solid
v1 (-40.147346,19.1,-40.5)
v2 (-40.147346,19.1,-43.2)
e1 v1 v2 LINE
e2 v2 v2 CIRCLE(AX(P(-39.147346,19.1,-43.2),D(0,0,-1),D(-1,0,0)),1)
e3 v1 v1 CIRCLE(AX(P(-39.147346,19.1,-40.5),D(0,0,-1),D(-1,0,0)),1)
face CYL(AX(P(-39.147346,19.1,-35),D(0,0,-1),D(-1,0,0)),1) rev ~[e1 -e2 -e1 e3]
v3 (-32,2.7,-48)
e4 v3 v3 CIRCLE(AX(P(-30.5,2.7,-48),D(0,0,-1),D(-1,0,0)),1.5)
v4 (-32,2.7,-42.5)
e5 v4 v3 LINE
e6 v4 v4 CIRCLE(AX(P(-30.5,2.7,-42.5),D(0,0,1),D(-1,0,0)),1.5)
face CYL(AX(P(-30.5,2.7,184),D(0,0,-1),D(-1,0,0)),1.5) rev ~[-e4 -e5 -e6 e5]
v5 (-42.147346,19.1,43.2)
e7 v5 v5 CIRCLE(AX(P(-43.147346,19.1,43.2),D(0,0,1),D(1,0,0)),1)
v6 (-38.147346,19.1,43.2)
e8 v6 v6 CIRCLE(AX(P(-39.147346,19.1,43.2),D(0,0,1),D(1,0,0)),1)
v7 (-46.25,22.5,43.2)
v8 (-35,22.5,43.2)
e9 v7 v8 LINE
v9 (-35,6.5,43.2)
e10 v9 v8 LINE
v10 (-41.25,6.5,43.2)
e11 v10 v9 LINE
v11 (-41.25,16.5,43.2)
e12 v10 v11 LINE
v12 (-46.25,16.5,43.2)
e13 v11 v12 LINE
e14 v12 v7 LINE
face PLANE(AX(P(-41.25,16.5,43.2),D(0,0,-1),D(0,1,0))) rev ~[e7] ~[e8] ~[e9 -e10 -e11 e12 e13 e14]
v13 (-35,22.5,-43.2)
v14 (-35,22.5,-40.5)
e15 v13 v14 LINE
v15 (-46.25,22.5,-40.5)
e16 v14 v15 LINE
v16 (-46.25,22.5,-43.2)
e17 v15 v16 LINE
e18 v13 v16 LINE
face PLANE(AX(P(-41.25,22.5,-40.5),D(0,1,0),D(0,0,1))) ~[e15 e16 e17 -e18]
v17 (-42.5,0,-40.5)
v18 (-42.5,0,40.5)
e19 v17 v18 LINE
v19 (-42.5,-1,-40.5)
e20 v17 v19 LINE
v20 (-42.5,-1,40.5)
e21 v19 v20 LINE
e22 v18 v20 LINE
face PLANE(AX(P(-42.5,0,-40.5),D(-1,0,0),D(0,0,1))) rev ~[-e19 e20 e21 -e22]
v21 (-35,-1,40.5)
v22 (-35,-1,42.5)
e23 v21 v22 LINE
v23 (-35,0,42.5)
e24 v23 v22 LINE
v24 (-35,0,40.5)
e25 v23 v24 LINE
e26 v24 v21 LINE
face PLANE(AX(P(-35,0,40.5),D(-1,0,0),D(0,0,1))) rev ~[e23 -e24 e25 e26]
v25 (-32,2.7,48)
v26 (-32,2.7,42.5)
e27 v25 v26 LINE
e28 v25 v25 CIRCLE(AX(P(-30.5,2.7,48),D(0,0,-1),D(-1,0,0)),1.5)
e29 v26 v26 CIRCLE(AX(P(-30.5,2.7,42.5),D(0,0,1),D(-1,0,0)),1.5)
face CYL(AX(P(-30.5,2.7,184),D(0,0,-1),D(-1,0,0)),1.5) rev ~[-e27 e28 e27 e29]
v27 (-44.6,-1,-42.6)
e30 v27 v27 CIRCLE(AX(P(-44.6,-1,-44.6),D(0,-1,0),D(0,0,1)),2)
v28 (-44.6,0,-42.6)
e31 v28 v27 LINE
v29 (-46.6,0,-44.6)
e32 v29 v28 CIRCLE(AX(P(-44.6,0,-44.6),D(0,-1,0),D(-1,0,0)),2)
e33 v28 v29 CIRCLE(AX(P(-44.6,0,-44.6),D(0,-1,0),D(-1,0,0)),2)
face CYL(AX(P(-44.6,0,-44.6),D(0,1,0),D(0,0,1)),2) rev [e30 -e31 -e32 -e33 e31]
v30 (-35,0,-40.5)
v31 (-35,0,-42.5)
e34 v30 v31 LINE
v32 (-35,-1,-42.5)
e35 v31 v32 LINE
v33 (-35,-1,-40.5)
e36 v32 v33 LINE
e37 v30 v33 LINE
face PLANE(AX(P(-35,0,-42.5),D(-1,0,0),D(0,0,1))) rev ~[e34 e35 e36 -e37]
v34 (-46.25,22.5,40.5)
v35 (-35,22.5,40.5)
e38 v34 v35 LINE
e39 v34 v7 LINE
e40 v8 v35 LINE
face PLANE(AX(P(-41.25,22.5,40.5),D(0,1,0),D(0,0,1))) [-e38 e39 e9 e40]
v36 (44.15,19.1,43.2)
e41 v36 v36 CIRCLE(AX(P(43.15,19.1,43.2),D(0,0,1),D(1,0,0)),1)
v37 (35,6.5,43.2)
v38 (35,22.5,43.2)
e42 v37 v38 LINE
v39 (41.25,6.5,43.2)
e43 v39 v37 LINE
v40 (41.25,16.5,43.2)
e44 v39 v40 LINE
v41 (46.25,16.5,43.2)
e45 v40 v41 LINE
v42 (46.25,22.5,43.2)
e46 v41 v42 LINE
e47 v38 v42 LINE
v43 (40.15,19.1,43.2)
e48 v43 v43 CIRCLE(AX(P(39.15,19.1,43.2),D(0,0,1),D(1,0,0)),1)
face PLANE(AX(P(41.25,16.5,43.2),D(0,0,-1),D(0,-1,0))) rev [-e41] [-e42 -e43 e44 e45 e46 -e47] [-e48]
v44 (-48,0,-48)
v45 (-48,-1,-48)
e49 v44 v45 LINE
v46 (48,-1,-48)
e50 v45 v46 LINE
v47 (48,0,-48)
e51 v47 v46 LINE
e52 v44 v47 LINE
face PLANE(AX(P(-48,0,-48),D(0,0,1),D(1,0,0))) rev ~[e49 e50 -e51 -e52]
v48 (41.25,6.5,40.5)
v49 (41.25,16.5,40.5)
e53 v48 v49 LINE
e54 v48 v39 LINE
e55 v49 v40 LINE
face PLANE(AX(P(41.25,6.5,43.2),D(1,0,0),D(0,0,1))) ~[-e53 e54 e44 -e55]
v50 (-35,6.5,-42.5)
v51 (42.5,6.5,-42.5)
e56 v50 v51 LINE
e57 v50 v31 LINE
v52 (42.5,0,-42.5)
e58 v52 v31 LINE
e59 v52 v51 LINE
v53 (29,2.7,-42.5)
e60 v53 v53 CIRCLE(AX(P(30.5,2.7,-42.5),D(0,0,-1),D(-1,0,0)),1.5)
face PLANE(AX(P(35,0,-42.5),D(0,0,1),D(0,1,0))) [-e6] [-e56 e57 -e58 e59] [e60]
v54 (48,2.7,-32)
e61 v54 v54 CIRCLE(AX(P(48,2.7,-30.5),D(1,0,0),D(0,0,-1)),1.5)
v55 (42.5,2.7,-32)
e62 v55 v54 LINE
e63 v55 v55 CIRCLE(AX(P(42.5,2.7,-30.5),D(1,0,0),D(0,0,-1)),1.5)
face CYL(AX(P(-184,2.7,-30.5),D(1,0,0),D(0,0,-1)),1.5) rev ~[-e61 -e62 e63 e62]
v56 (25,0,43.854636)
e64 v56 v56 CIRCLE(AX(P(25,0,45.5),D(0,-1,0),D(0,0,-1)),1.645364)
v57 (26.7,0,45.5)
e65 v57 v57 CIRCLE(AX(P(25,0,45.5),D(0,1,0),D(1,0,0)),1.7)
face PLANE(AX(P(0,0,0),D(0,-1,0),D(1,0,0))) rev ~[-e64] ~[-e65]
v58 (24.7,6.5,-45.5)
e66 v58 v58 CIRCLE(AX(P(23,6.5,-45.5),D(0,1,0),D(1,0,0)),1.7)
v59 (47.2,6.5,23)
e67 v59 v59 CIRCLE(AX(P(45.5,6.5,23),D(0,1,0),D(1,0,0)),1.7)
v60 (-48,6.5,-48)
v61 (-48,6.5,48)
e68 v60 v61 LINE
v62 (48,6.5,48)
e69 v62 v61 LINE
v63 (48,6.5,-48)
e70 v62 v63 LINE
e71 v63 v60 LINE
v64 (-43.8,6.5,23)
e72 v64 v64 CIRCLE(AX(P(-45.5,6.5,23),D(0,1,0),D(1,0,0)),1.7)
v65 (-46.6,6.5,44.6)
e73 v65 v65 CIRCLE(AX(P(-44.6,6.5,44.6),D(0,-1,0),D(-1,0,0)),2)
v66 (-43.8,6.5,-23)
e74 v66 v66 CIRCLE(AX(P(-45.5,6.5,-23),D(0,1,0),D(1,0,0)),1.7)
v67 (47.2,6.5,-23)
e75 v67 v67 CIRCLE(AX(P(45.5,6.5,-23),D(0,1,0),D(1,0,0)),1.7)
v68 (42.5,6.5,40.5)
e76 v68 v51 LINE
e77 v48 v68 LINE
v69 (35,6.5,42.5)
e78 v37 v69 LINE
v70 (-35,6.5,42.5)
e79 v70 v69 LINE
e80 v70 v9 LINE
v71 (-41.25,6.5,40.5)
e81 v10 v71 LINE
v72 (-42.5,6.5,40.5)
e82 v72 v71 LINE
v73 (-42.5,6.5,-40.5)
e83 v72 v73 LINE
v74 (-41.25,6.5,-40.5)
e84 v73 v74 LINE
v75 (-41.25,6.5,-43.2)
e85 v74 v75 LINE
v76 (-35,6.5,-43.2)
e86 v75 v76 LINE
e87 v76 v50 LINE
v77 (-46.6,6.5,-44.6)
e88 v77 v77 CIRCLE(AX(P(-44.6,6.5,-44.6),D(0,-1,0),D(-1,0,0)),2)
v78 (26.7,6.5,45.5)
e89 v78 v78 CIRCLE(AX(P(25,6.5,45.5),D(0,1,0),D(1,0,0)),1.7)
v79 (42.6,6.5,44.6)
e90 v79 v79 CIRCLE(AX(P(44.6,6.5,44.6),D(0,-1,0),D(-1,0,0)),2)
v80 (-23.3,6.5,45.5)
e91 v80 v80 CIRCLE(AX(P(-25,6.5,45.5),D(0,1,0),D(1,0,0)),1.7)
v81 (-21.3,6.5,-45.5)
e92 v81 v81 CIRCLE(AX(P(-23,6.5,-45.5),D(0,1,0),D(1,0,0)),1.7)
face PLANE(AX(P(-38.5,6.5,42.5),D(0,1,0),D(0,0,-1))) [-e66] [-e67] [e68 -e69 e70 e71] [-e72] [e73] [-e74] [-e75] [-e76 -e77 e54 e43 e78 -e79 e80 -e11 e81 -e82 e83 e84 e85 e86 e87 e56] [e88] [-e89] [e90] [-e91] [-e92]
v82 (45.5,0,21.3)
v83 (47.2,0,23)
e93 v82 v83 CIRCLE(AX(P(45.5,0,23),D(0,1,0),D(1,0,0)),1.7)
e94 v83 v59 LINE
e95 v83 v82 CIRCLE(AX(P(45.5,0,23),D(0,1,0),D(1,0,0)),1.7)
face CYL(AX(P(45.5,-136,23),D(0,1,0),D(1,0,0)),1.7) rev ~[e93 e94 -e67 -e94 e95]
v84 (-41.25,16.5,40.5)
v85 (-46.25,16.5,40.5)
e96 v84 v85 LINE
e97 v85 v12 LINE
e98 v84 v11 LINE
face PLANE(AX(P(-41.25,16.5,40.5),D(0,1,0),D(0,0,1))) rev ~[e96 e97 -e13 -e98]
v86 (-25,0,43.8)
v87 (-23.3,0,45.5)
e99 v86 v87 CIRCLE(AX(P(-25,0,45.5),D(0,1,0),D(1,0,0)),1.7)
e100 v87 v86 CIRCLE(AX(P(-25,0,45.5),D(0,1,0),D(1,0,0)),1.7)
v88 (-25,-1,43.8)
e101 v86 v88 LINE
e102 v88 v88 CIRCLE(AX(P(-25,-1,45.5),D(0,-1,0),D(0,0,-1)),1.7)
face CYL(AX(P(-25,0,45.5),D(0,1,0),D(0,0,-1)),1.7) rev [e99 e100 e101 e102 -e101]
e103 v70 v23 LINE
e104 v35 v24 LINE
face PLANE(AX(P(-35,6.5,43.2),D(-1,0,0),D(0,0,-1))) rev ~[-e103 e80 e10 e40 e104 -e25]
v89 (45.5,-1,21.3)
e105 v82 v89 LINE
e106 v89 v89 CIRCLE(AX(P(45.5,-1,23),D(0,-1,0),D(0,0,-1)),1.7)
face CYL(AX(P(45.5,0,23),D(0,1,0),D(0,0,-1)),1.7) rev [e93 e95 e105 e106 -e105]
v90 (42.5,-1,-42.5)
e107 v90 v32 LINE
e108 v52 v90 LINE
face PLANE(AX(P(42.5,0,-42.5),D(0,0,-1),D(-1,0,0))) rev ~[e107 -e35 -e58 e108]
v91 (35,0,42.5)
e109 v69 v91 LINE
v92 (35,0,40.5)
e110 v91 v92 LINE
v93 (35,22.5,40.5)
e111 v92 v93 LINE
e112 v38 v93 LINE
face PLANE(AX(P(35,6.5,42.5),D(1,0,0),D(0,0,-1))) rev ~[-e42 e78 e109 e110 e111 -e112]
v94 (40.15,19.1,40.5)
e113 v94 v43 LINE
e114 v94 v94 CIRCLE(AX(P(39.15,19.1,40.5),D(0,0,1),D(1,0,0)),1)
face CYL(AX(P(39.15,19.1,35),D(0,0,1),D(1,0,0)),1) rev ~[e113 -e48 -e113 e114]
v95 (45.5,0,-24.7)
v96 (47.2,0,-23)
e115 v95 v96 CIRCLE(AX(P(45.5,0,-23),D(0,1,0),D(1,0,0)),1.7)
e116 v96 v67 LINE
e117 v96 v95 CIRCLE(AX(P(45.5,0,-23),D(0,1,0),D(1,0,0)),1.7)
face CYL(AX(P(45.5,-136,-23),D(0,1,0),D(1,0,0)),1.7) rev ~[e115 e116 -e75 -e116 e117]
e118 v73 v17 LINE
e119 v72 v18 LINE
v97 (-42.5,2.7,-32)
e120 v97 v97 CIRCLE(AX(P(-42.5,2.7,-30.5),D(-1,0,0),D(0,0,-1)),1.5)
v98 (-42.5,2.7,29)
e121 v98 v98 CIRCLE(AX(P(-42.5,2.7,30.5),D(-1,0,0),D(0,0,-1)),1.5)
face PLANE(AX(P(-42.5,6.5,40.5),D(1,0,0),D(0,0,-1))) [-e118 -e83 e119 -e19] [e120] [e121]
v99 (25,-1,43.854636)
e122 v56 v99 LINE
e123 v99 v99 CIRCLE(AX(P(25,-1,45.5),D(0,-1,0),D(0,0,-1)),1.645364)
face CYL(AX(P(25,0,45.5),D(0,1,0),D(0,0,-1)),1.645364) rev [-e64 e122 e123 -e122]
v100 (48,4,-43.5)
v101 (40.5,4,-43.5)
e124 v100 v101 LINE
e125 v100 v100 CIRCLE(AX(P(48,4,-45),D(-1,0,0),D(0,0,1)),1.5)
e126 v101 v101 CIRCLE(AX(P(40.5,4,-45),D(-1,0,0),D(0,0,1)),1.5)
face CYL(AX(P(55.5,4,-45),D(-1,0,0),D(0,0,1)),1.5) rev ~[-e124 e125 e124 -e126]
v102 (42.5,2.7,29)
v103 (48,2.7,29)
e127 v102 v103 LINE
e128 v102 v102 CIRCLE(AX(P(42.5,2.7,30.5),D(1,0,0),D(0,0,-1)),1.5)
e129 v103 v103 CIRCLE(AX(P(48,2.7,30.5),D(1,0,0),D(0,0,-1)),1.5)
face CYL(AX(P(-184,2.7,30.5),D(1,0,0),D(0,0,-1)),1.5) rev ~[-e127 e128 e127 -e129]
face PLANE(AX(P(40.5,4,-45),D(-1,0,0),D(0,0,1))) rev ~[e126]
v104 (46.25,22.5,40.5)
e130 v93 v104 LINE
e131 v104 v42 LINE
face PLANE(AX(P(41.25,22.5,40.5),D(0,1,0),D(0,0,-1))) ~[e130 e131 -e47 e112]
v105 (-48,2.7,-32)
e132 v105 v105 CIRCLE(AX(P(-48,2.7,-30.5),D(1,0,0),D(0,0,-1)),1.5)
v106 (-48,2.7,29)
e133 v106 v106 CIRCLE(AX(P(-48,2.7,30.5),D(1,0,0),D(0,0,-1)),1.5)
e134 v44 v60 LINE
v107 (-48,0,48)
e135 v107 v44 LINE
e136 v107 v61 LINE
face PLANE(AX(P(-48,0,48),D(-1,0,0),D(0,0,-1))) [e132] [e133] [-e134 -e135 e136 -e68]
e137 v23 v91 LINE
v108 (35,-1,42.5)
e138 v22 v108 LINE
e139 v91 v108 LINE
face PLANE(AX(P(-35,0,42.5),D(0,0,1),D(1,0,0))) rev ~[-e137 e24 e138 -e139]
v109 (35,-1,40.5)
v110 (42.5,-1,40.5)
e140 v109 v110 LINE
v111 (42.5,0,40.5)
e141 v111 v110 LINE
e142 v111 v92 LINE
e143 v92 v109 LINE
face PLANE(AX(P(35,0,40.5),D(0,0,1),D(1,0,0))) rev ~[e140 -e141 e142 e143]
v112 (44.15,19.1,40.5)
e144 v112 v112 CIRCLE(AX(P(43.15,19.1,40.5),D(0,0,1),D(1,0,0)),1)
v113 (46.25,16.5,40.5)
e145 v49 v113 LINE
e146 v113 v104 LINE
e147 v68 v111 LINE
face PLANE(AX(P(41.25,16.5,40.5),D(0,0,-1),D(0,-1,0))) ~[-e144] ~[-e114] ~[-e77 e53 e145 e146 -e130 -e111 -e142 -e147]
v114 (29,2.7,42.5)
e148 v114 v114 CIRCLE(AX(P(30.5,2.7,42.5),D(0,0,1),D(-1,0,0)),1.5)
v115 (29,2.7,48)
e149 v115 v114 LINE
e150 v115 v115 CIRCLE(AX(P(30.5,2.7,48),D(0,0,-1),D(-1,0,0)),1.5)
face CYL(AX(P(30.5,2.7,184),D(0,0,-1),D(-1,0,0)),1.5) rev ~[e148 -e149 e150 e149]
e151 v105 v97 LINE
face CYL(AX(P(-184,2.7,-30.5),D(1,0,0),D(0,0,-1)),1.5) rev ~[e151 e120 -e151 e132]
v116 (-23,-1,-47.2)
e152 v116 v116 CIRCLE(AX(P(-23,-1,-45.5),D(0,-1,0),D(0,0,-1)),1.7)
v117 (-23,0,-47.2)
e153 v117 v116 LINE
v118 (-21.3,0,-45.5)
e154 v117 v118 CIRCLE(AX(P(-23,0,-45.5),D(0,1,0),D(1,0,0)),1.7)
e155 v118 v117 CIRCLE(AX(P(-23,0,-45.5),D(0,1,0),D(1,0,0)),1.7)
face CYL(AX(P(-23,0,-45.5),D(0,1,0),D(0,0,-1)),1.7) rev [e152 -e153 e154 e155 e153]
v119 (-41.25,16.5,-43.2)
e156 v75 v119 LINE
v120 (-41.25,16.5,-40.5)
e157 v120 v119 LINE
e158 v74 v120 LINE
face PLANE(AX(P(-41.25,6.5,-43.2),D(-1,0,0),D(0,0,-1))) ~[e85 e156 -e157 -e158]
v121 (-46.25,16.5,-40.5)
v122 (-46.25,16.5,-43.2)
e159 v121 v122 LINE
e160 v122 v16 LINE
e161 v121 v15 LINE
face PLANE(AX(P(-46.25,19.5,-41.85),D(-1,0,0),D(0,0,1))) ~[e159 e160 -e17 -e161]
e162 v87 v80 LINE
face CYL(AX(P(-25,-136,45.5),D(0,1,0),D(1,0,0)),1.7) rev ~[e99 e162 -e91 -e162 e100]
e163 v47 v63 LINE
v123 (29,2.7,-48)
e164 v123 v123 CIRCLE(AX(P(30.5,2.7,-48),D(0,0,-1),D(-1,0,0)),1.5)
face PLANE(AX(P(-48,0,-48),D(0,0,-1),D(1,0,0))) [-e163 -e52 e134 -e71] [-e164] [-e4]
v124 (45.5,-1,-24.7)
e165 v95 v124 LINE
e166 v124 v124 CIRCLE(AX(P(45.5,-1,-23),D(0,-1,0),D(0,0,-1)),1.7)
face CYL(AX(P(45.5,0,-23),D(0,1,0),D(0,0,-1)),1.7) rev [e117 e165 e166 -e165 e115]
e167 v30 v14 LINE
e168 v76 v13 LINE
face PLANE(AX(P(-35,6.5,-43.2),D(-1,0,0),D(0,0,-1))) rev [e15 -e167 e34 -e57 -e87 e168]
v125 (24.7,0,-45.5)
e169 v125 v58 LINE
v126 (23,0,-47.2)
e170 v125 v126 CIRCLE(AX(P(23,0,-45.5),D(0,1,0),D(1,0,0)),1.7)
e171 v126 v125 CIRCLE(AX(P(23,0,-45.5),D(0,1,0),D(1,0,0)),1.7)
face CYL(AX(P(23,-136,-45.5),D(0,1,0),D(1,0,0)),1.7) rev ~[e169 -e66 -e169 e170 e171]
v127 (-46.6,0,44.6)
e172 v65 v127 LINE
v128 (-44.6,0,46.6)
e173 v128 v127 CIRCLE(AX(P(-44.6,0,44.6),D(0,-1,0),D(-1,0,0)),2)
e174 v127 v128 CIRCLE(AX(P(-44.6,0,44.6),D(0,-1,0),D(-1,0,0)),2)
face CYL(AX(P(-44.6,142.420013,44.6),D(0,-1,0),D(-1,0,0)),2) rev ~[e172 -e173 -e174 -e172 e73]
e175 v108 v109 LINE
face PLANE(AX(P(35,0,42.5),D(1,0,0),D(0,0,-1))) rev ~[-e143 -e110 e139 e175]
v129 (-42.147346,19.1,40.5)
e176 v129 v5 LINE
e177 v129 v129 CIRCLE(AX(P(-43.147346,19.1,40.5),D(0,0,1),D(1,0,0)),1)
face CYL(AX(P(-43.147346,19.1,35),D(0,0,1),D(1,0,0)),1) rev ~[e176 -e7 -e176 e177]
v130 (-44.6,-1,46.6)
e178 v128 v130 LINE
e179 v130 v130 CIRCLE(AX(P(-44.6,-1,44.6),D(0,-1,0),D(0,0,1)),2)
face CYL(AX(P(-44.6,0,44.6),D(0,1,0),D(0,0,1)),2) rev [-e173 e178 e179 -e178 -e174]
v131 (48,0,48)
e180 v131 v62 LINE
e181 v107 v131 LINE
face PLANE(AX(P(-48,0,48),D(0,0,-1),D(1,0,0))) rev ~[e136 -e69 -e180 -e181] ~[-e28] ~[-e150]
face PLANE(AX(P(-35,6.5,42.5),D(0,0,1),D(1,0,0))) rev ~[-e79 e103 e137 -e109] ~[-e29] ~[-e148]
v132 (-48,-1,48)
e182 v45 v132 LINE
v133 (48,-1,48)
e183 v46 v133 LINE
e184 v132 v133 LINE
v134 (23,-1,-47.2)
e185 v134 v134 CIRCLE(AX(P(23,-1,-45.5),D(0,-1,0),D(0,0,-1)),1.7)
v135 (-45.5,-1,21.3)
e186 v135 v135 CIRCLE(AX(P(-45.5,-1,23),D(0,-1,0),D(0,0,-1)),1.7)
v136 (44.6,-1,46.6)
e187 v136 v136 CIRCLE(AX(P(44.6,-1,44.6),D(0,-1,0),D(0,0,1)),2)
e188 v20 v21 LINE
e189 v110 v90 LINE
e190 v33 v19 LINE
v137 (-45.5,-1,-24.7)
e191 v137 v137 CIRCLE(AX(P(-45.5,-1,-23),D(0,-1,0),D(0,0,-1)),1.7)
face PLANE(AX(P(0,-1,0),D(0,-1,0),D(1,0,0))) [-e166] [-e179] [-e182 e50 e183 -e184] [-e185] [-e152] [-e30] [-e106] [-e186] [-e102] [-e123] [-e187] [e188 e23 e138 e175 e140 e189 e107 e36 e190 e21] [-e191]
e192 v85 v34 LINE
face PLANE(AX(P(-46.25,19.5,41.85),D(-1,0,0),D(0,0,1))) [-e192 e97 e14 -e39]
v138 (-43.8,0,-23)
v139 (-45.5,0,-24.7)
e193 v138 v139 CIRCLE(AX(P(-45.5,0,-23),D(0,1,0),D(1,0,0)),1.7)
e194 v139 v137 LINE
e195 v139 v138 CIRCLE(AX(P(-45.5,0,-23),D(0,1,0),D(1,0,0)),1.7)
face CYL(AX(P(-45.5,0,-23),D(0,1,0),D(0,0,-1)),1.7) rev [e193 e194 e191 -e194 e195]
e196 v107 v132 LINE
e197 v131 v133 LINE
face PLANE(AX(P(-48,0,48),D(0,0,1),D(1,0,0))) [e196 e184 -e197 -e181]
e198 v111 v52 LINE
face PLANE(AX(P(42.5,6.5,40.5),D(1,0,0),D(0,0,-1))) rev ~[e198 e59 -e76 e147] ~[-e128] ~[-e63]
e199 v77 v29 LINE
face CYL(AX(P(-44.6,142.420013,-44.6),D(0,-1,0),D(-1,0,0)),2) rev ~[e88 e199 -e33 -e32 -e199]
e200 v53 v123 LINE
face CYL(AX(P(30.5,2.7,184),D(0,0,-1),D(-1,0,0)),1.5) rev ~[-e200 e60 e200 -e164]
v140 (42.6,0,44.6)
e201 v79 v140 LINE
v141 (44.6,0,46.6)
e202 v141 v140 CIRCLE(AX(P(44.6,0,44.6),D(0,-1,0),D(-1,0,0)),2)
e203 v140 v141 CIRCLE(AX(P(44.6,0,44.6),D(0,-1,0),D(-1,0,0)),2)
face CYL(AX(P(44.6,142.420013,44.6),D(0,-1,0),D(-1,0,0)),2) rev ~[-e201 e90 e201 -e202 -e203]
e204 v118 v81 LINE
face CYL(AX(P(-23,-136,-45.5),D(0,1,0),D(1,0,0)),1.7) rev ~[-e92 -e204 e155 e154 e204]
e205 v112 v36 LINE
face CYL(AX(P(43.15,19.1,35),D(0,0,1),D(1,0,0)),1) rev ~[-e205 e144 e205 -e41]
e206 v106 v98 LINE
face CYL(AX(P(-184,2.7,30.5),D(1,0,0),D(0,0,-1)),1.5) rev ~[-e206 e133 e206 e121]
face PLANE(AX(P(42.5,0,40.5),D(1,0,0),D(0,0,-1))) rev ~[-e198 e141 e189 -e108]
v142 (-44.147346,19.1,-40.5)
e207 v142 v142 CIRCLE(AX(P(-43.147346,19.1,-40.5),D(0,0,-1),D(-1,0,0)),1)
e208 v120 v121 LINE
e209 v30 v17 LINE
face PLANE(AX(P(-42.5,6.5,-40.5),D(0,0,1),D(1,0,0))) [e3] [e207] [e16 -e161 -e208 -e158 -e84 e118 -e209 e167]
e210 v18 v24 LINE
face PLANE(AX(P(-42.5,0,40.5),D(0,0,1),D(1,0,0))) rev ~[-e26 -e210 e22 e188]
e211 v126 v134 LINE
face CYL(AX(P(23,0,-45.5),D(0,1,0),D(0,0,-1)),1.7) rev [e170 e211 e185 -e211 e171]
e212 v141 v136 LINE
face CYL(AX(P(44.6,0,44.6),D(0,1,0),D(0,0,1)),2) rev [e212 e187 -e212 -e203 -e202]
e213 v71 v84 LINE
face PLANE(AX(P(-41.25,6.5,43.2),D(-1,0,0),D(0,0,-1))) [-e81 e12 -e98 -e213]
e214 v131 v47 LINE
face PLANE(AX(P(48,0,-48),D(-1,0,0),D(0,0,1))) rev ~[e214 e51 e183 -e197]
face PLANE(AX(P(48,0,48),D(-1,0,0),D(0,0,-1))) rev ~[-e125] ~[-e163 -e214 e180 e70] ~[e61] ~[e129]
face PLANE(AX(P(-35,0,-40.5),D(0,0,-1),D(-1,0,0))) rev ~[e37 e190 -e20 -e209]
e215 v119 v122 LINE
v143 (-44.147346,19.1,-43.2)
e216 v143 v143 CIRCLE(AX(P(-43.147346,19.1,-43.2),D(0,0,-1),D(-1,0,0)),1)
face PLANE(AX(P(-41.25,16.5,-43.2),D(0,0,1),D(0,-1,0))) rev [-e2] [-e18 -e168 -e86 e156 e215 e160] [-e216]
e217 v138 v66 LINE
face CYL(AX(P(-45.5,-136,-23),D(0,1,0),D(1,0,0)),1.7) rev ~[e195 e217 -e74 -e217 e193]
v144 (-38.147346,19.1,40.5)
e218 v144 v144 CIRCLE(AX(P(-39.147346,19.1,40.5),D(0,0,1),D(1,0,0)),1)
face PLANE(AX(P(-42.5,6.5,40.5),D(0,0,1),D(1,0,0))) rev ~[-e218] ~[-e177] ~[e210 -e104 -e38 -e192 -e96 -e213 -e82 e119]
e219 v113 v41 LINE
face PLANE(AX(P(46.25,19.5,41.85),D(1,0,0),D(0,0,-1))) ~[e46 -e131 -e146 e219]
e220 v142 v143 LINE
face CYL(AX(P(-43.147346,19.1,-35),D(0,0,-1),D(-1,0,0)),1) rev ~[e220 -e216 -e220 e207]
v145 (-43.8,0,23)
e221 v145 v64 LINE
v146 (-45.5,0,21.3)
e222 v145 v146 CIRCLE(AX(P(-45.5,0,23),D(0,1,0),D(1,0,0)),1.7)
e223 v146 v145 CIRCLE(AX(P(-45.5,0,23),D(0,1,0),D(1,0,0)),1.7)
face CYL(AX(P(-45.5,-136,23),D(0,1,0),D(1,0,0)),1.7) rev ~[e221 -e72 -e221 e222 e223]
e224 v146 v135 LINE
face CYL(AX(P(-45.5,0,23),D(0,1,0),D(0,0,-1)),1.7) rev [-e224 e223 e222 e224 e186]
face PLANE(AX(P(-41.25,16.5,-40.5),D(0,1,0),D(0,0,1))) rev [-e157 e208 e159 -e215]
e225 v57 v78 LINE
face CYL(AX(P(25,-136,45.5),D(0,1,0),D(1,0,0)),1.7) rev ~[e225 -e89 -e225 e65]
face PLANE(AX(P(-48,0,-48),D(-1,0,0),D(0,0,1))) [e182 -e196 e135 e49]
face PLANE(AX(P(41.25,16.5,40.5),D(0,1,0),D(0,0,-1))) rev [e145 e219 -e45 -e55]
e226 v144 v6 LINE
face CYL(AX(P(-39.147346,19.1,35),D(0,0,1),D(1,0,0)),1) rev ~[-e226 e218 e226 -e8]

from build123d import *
from build123d.topology import SkipClean

# Parameters (mm, degrees)
SKETCH1_W                       = 96
SKETCH1_H                       = 96
SKETCH1_W_2                     = 80
SKETCH1_H_2                     = 80
BOSS_EXTRUDE1_DEPTH             = 8
SKETCH27_W                      = 82
SKETCH27_H                      = 82
CUT_EXTRUDE2_DEPTH              = 10
F_3_0_3_DIAMETER_HOLE1_D        = 3
F_3_4_3_4_DIAMETER_HOLE1_D      = 3.4
SKETCH38_W                      = 85
SKETCH38_H                      = 85
CUT_EXTRUDE4_DEPTH              = 10
F_3_0_3_DIAMETER_HOLE7_D        = 3
SKETCH44_W                      = 4
SKETCH44_H                      = 4
BOSS_EXTRUDE2_DEPTH             = 8
SKETCH45_W                      = 4
SKETCH45_H                      = 3.5
BOSS_EXTRUDE3_DEPTH             = 8
SKETCH49_W                      = 96
SKETCH49_H                      = 1.5
CUT_EXTRUDE5_DEPTH              = 146
TAP_DRILL_FOR_M4_TAP1_D         = 4
SKETCH53_W                      = 4
SKETCH53_H                      = 6.5
BOSS_EXTRUDE5_DEPTH             = 78
SKETCH57_W                      = 4
SKETCH57_H                      = 6.5
CUT_EXTRUDE6_DEPTH              = 7.5
SKETCH58_W                      = 4
SKETCH58_H                      = 6.5
BOSS_EXTRUDE7_DEPTH             = 81
SKETCH61_W                      = 32
SKETCH61_H                      = 85
CUT_EXTRUDE7_DEPTH              = 81
SKETCH66_W                      = 85
SKETCH66_H                      = 80.198
CUT_EXTRUDE8_DEPTH              = 10
SKETCH67_W                      = 85
SKETCH67_H                      = 85
CUT_EXTRUDE9_DEPTH              = 3.5
SKETCH68_W                      = 52
SKETCH68_H                      = 85
CUT_EXTRUDE10_DEPTH             = 56
SKETCH54_W                      = 6.25
SKETCH54_H                      = 2.7
BOSS_EXTRUDE8_DEPTH             = 16
CUT_EXTRUDE12_START             = -10.22
SKETCH75_W                      = 2.401
SKETCH75_H                      = 3
CUT_EXTRUDE12_DEPTH             = 72.44
SKETCH77_W                      = 2.401
SKETCH77_H                      = 3
CUT_EXTRUDE13_DEPTH             = 6.28
SKETCH78_W                      = 85
SKETCH78_H                      = 85
CUT_EXTRUDE14_DEPTH             = 6.5
SKETCH79_W                      = 85
SKETCH79_H                      = 85
SKETCH79_W_2                    = 81
SKETCH79_H_2                    = 81
BOSS_EXTRUDE12_DEPTH            = 6.5
SKETCH81_W                      = 2.7
SKETCH81_H                      = 6
BOSS_EXTRUDE13_DEPTH            = 5
TAP_DRILL_FOR_M2_TAP1_D         = 2
TAP_DRILL_FOR_M2_TAP1_DEPTH     = 5.5
TAP_DRILL_FOR_M2_TAP2_D         = 2
TAP_DRILL_FOR_M2_TAP2_DEPTH     = 5.5
TAP_DRILL_FOR_M3X0_5_TAP1_D     = 3
TAP_DRILL_FOR_M3X0_5_TAP1_DEPTH = 7.5
SKETCH88_W                      = 2
SKETCH88_H                      = 70
SKETCH88_W_2                    = 70
SKETCH88_H_2                    = 2
CUT_EXTRUDE15_DEPTH             = 10
SKETCH89_W                      = 85
SKETCH89_H                      = 81
CUT_EXTRUDE16_DEPTH             = 10
SKETCH90_W                      = 2
SKETCH90_H                      = 6.5
CUT_EXTRUDE17_DEPTH             = 7.5
SKETCH91_W                      = 96
SKETCH91_H                      = 96
SKETCH91_R                      = 1.7
SKETCH91_R_2                    = 1.64536441
SKETCH91_R_3                    = 2
BOSS_EXTRUDE14_DEPTH            = 1


with BuildPart() as part:
    # Sketch1 → Boss-Extrude1 (new body)
    with BuildSketch(Plane(origin=(0, 0, 0), x_dir=(1, 0, 0), z_dir=(0, 1, 0))):
        Rectangle(SKETCH1_W, SKETCH1_H)
        Rectangle(SKETCH1_W_2, SKETCH1_H_2, mode=Mode.SUBTRACT)
    extrude(amount=BOSS_EXTRUDE1_DEPTH)

    # Sketch27 → Cut-Extrude2 (cut)
    with BuildSketch(Plane(origin=(0, 8, 0), x_dir=(1, 0, 0), z_dir=(0, 1, 0))):
        Rectangle(SKETCH27_W, SKETCH27_H)
    extrude(amount=-CUT_EXTRUDE2_DEPTH, mode=Mode.SUBTRACT)

    # Ø3.0 (3) Diameter Hole1 (through all)
    with Locations(Plane.XY.offset(48)):
        with Locations((-30.5, 2.7), (30.5, 2.7)):
            Hole(F_3_0_3_DIAMETER_HOLE1_D / 2)

    # Ø3.4 (3.4) Diameter Hole1 (through all)
    with Locations(Plane(origin=(0, 0, 0), x_dir=(-1, 0, 0), z_dir=(0, -1, 0))):
        with Locations((-23, 45.5), (23, 45.5), (45.5, 23), (45.5, -23), (25, -45.5), (-25, -45.5), (-45.5, -23), (-45.5, 23)):
            Hole(F_3_4_3_4_DIAMETER_HOLE1_D / 2)

    # Sketch38 → Cut-Extrude4 (cut)
    with BuildSketch(Plane(origin=(0, 8, 0), x_dir=(1, 0, 0), z_dir=(0, 1, 0))):
        Rectangle(SKETCH38_W, SKETCH38_H)
    extrude(amount=-CUT_EXTRUDE4_DEPTH, mode=Mode.SUBTRACT)

    # Ø3.0 (3) Diameter Hole7 (through all)
    with Locations(Plane.ZY.offset(48)):
        with Locations((-30.5, 2.7), (30.5, 2.7)):
            Hole(F_3_0_3_DIAMETER_HOLE7_D / 2)

    # Sketch44 → Boss-Extrude2 (add)
    with BuildSketch(Plane.XZ):
        with Locations((40.5, -40.5)):
            Rectangle(SKETCH44_W, SKETCH44_H)
        with Locations((-40.5, -40.5)):
            Rectangle(SKETCH44_W, SKETCH44_H)
        with Locations((-40.5, 40.5)):
            Rectangle(SKETCH44_W, SKETCH44_H)
        with Locations((40.5, 40.5)):
            Rectangle(SKETCH44_W, SKETCH44_H)
    extrude(amount=-BOSS_EXTRUDE2_DEPTH)

    # Sketch45 → Boss-Extrude3 (add)
    with BuildSketch(Plane(origin=(0, 8, 0), x_dir=(1, 0, 0), z_dir=(0, 1, 0))):
        with Locations((-40.5, 36.75)):
            Rectangle(SKETCH45_W, SKETCH45_H)
    extrude(amount=-BOSS_EXTRUDE3_DEPTH)

    # Sketch49 → Cut-Extrude5 (cut)
    with BuildSketch(Plane(origin=(48, 0, 0), x_dir=(0, 0, -1), z_dir=(1, 0, 0))):
        with Locations((0, 7.25)):
            Rectangle(SKETCH49_W, SKETCH49_H)
    extrude(amount=-CUT_EXTRUDE5_DEPTH, mode=Mode.SUBTRACT)

    # Tap Drill for M4 Tap1 (through all)
    with Locations(Plane(origin=(0, 6.5, 0), x_dir=(1, 0, 0), z_dir=(0, 1, 0))):
        with Locations((44.6, -44.6), (-44.6, -44.6), (-44.6, 44.6)):
            Hole(TAP_DRILL_FOR_M4_TAP1_D / 2)

    # Sketch53 → Boss-Extrude5 (add)
    with BuildSketch(Plane(origin=(-38.5, 0, 0), x_dir=(0, 0, -1), z_dir=(1, 0, 0))):
        with Locations((-40.5, 3.25)):
            Rectangle(SKETCH53_W, SKETCH53_H)
    extrude(amount=BOSS_EXTRUDE5_DEPTH)

    # Sketch57 → Cut-Extrude6 (cut)
    with BuildSketch(Plane.XY.offset(-35)):
        with Locations((-40.5, 3.25)):
            Rectangle(SKETCH57_W, SKETCH57_H)
    extrude(amount=-CUT_EXTRUDE6_DEPTH, mode=Mode.SUBTRACT)

    # Sketch58 → Boss-Extrude7 (add)
    with BuildSketch(Plane.ZY.offset(-38.5)):
        with Locations((-40.5, 3.25)):
            Rectangle(SKETCH58_W, SKETCH58_H)
    extrude(amount=BOSS_EXTRUDE7_DEPTH)

    # Sketch61 → Cut-Extrude7 (cut)
    with BuildSketch(Plane(origin=(0, 6.5, 0), x_dir=(1, 0, 0), z_dir=(0, 1, 0))):
        Rectangle(SKETCH61_W, SKETCH61_H)
    extrude(amount=-CUT_EXTRUDE7_DEPTH, mode=Mode.SUBTRACT)

    # Sketch66 → Cut-Extrude8 (cut)
    with BuildSketch(Plane(origin=(0, 6.5, 0), x_dir=(1, 0, 0), z_dir=(0, 1, 0))):
        Rectangle(SKETCH66_W, SKETCH66_H)
    extrude(amount=-CUT_EXTRUDE8_DEPTH, mode=Mode.SUBTRACT)

    # Sketch67 → Cut-Extrude9 (cut)
    with BuildSketch(Plane.XZ):
        Rectangle(SKETCH67_W, SKETCH67_H)
    extrude(amount=-CUT_EXTRUDE9_DEPTH, mode=Mode.SUBTRACT)

    # Sketch68 → Cut-Extrude10 (cut)
    with BuildSketch(Plane(origin=(0, 6.5, 0), x_dir=(1, 0, 0), z_dir=(0, 1, 0))):
        Rectangle(SKETCH68_W, SKETCH68_H)
    extrude(amount=-CUT_EXTRUDE10_DEPTH, mode=Mode.SUBTRACT)

    # Sketch54 → Boss-Extrude8 (add)
    with BuildSketch(Plane(origin=(0, 6.5, 0), x_dir=(1, 0, 0), z_dir=(0, 1, 0))):
        with Locations((-38.125, -41.85)):
            Rectangle(SKETCH54_W, SKETCH54_H)
    boss_extrude8 = extrude(amount=BOSS_EXTRUDE8_DEPTH)

    # Mirror1: Boss-Extrude8 across plane
    add(boss_extrude8.mirror(Plane(origin=(0, 0, 0), x_dir=(0, 0, 1), z_dir=(1, 0, 0))))

    # Sketch75 → Cut-Extrude12 (cut)
    with BuildSketch(Plane.ZY.offset(-26).offset(CUT_EXTRUDE12_START)):
        with Locations((41.2995, 5)):
            Rectangle(SKETCH75_W, SKETCH75_H)
    cut_extrude12 = extrude(amount=CUT_EXTRUDE12_DEPTH, mode=Mode.SUBTRACT)

    # Mirror2: Boss-Extrude8 across plane
    add(boss_extrude8.mirror(Plane.XY))

    # Mirror3: Cut-Extrude12 across plane
    add(cut_extrude12.mirror(Plane.XY), mode=Mode.SUBTRACT)

    # Sketch77 → Cut-Extrude13 (cut)
    with BuildSketch(Plane.ZY.offset(-36.22)):
        with Locations((-41.2995, 5)):
            Rectangle(SKETCH77_W, SKETCH77_H)
    extrude(amount=-CUT_EXTRUDE13_DEPTH, mode=Mode.SUBTRACT)

    # Sketch78 → Cut-Extrude14 (cut)
    with BuildSketch(Plane.XZ):
        Rectangle(SKETCH78_W, SKETCH78_H)
    extrude(amount=-CUT_EXTRUDE14_DEPTH, mode=Mode.SUBTRACT)

    # Sketch79 → Boss-Extrude12 (add)
    with BuildSketch(Plane.XZ):
        Rectangle(SKETCH79_W, SKETCH79_H)
        Rectangle(SKETCH79_W_2, SKETCH79_H_2, mode=Mode.SUBTRACT)
    extrude(amount=-BOSS_EXTRUDE12_DEPTH)

    # Sketch81 → Boss-Extrude13 (add)
    with BuildSketch(Plane.ZY.offset(41.25)):
        with Locations((41.85, 19.5)):
            Rectangle(SKETCH81_W, SKETCH81_H)
    boss_extrude13 = extrude(amount=BOSS_EXTRUDE13_DEPTH)

    # Mirror4: Boss-Extrude13 across plane
    add(boss_extrude13.mirror(Plane.XY))

    # Mirror5: Boss-Extrude13 across plane
    add(boss_extrude13.mirror(Plane(origin=(0, 0, 0), x_dir=(0, 0, 1), z_dir=(1, 0, 0))))

    # Tap Drill for M2 Tap1
    with Locations(Plane(origin=(0, 0, 40.5), x_dir=(-1, 0, 0), z_dir=(0, 0, -1))):
        with Locations((39.147345831, 19.1), (43.147345831, 19.1), (-39.15, 19.1), (-43.15, 19.1)):
            Hole(TAP_DRILL_FOR_M2_TAP1_D / 2, depth=TAP_DRILL_FOR_M2_TAP1_DEPTH)

    # Tap Drill for M2 Tap2
    with Locations(Plane.XY.offset(-40.5)):
        with Locations((-39.147345831, 19.1), (-43.147345831, 19.1)):
            Hole(TAP_DRILL_FOR_M2_TAP2_D / 2, depth=TAP_DRILL_FOR_M2_TAP2_DEPTH)

    # Tap Drill for M3x0.5 Tap1
    with Locations(Plane(origin=(48, 0, 0), x_dir=(0, 0, -1), z_dir=(1, 0, 0))):
        with Locations((45, 4)):
            Hole(TAP_DRILL_FOR_M3X0_5_TAP1_D / 2, depth=TAP_DRILL_FOR_M3X0_5_TAP1_DEPTH)

    # Sketch88 → Cut-Extrude15 (cut)
    with BuildSketch(Plane(origin=(0, 6.5, 0), x_dir=(1, 0, 0), z_dir=(0, 1, 0))):
        with Locations((41.5, 0)):
            Rectangle(SKETCH88_W, SKETCH88_H)
        with Locations((0, -41.5)):
            Rectangle(SKETCH88_W_2, SKETCH88_H_2)
        with Locations((-41.5, 0)):
            Rectangle(SKETCH88_W, SKETCH88_H)
        with Locations((0, 41.5)):
            Rectangle(SKETCH88_W_2, SKETCH88_H_2)
    extrude(amount=-CUT_EXTRUDE15_DEPTH, mode=Mode.SUBTRACT)

    # Sketch89 → Cut-Extrude16 (cut)
    with BuildSketch(Plane(origin=(0, 6.5, 0), x_dir=(1, 0, 0), z_dir=(0, 1, 0))):
        Rectangle(SKETCH89_W, SKETCH89_H)
    extrude(amount=-CUT_EXTRUDE16_DEPTH, mode=Mode.SUBTRACT)

    # Sketch90 → Cut-Extrude17 (cut)
    with BuildSketch(Plane.ZY.offset(-35)):
        with Locations((-41.5, 3.25)):
            Rectangle(SKETCH90_W, SKETCH90_H)
    extrude(amount=-CUT_EXTRUDE17_DEPTH, mode=Mode.SUBTRACT)

    # Sketch91 → Boss-Extrude14 (add)
    with SkipClean():  # the faces are left unmerged after this step: merging them gives an invalid solid
        with BuildSketch(Plane.XZ):
            Rectangle(SKETCH91_W, SKETCH91_H)
            with Locations(Location((-25, 45.5, 0), (0, 0, 270))):
                Circle(SKETCH91_R, mode=Mode.SUBTRACT)
            with Locations(Location((25, 45.5, 0), (0, 0, 270))):
                Circle(SKETCH91_R_2, mode=Mode.SUBTRACT)
            with Locations(Location((44.6, 44.6, 0), (0, 0, 90))):
                Circle(SKETCH91_R_3, mode=Mode.SUBTRACT)
            with Locations(Location((45.5, 23, 0), (0, 0, 270))):
                Circle(SKETCH91_R, mode=Mode.SUBTRACT)
            with Locations(Location((45.5, -23, 0), (0, 0, 270))):
                Circle(SKETCH91_R, mode=Mode.SUBTRACT)
            with Locations(Location((23, -45.5, 0), (0, 0, 270))):
                Circle(SKETCH91_R, mode=Mode.SUBTRACT)
            with Locations(Location((-23, -45.5, 0), (0, 0, 270))):
                Circle(SKETCH91_R, mode=Mode.SUBTRACT)
            with Locations(Location((-45.5, -23, 0), (0, 0, 270))):
                Circle(SKETCH91_R, mode=Mode.SUBTRACT)
            with Locations(Location((-44.6, -44.6, 0), (0, 0, 90))):
                Circle(SKETCH91_R_3, mode=Mode.SUBTRACT)
            with Locations(Location((-45.5, 23, 0), (0, 0, 270))):
                Circle(SKETCH91_R, mode=Mode.SUBTRACT)
            with Locations(Location((-44.6, 44.6, 0), (0, 0, 90))):
                Circle(SKETCH91_R_3, mode=Mode.SUBTRACT)
            Polygon((42.5, -42.5), (-35, -42.5), (-35, -40.5), (-42.5, -40.5), (-42.5, 40.5), (-35, 40.5), (-35, 42.5), (35, 42.5), (35, 40.5), (42.5, 40.5), align=None, mode=Mode.SUBTRACT)
        extrude(amount=BOSS_EXTRUDE14_DEPTH)


solid = part.part
